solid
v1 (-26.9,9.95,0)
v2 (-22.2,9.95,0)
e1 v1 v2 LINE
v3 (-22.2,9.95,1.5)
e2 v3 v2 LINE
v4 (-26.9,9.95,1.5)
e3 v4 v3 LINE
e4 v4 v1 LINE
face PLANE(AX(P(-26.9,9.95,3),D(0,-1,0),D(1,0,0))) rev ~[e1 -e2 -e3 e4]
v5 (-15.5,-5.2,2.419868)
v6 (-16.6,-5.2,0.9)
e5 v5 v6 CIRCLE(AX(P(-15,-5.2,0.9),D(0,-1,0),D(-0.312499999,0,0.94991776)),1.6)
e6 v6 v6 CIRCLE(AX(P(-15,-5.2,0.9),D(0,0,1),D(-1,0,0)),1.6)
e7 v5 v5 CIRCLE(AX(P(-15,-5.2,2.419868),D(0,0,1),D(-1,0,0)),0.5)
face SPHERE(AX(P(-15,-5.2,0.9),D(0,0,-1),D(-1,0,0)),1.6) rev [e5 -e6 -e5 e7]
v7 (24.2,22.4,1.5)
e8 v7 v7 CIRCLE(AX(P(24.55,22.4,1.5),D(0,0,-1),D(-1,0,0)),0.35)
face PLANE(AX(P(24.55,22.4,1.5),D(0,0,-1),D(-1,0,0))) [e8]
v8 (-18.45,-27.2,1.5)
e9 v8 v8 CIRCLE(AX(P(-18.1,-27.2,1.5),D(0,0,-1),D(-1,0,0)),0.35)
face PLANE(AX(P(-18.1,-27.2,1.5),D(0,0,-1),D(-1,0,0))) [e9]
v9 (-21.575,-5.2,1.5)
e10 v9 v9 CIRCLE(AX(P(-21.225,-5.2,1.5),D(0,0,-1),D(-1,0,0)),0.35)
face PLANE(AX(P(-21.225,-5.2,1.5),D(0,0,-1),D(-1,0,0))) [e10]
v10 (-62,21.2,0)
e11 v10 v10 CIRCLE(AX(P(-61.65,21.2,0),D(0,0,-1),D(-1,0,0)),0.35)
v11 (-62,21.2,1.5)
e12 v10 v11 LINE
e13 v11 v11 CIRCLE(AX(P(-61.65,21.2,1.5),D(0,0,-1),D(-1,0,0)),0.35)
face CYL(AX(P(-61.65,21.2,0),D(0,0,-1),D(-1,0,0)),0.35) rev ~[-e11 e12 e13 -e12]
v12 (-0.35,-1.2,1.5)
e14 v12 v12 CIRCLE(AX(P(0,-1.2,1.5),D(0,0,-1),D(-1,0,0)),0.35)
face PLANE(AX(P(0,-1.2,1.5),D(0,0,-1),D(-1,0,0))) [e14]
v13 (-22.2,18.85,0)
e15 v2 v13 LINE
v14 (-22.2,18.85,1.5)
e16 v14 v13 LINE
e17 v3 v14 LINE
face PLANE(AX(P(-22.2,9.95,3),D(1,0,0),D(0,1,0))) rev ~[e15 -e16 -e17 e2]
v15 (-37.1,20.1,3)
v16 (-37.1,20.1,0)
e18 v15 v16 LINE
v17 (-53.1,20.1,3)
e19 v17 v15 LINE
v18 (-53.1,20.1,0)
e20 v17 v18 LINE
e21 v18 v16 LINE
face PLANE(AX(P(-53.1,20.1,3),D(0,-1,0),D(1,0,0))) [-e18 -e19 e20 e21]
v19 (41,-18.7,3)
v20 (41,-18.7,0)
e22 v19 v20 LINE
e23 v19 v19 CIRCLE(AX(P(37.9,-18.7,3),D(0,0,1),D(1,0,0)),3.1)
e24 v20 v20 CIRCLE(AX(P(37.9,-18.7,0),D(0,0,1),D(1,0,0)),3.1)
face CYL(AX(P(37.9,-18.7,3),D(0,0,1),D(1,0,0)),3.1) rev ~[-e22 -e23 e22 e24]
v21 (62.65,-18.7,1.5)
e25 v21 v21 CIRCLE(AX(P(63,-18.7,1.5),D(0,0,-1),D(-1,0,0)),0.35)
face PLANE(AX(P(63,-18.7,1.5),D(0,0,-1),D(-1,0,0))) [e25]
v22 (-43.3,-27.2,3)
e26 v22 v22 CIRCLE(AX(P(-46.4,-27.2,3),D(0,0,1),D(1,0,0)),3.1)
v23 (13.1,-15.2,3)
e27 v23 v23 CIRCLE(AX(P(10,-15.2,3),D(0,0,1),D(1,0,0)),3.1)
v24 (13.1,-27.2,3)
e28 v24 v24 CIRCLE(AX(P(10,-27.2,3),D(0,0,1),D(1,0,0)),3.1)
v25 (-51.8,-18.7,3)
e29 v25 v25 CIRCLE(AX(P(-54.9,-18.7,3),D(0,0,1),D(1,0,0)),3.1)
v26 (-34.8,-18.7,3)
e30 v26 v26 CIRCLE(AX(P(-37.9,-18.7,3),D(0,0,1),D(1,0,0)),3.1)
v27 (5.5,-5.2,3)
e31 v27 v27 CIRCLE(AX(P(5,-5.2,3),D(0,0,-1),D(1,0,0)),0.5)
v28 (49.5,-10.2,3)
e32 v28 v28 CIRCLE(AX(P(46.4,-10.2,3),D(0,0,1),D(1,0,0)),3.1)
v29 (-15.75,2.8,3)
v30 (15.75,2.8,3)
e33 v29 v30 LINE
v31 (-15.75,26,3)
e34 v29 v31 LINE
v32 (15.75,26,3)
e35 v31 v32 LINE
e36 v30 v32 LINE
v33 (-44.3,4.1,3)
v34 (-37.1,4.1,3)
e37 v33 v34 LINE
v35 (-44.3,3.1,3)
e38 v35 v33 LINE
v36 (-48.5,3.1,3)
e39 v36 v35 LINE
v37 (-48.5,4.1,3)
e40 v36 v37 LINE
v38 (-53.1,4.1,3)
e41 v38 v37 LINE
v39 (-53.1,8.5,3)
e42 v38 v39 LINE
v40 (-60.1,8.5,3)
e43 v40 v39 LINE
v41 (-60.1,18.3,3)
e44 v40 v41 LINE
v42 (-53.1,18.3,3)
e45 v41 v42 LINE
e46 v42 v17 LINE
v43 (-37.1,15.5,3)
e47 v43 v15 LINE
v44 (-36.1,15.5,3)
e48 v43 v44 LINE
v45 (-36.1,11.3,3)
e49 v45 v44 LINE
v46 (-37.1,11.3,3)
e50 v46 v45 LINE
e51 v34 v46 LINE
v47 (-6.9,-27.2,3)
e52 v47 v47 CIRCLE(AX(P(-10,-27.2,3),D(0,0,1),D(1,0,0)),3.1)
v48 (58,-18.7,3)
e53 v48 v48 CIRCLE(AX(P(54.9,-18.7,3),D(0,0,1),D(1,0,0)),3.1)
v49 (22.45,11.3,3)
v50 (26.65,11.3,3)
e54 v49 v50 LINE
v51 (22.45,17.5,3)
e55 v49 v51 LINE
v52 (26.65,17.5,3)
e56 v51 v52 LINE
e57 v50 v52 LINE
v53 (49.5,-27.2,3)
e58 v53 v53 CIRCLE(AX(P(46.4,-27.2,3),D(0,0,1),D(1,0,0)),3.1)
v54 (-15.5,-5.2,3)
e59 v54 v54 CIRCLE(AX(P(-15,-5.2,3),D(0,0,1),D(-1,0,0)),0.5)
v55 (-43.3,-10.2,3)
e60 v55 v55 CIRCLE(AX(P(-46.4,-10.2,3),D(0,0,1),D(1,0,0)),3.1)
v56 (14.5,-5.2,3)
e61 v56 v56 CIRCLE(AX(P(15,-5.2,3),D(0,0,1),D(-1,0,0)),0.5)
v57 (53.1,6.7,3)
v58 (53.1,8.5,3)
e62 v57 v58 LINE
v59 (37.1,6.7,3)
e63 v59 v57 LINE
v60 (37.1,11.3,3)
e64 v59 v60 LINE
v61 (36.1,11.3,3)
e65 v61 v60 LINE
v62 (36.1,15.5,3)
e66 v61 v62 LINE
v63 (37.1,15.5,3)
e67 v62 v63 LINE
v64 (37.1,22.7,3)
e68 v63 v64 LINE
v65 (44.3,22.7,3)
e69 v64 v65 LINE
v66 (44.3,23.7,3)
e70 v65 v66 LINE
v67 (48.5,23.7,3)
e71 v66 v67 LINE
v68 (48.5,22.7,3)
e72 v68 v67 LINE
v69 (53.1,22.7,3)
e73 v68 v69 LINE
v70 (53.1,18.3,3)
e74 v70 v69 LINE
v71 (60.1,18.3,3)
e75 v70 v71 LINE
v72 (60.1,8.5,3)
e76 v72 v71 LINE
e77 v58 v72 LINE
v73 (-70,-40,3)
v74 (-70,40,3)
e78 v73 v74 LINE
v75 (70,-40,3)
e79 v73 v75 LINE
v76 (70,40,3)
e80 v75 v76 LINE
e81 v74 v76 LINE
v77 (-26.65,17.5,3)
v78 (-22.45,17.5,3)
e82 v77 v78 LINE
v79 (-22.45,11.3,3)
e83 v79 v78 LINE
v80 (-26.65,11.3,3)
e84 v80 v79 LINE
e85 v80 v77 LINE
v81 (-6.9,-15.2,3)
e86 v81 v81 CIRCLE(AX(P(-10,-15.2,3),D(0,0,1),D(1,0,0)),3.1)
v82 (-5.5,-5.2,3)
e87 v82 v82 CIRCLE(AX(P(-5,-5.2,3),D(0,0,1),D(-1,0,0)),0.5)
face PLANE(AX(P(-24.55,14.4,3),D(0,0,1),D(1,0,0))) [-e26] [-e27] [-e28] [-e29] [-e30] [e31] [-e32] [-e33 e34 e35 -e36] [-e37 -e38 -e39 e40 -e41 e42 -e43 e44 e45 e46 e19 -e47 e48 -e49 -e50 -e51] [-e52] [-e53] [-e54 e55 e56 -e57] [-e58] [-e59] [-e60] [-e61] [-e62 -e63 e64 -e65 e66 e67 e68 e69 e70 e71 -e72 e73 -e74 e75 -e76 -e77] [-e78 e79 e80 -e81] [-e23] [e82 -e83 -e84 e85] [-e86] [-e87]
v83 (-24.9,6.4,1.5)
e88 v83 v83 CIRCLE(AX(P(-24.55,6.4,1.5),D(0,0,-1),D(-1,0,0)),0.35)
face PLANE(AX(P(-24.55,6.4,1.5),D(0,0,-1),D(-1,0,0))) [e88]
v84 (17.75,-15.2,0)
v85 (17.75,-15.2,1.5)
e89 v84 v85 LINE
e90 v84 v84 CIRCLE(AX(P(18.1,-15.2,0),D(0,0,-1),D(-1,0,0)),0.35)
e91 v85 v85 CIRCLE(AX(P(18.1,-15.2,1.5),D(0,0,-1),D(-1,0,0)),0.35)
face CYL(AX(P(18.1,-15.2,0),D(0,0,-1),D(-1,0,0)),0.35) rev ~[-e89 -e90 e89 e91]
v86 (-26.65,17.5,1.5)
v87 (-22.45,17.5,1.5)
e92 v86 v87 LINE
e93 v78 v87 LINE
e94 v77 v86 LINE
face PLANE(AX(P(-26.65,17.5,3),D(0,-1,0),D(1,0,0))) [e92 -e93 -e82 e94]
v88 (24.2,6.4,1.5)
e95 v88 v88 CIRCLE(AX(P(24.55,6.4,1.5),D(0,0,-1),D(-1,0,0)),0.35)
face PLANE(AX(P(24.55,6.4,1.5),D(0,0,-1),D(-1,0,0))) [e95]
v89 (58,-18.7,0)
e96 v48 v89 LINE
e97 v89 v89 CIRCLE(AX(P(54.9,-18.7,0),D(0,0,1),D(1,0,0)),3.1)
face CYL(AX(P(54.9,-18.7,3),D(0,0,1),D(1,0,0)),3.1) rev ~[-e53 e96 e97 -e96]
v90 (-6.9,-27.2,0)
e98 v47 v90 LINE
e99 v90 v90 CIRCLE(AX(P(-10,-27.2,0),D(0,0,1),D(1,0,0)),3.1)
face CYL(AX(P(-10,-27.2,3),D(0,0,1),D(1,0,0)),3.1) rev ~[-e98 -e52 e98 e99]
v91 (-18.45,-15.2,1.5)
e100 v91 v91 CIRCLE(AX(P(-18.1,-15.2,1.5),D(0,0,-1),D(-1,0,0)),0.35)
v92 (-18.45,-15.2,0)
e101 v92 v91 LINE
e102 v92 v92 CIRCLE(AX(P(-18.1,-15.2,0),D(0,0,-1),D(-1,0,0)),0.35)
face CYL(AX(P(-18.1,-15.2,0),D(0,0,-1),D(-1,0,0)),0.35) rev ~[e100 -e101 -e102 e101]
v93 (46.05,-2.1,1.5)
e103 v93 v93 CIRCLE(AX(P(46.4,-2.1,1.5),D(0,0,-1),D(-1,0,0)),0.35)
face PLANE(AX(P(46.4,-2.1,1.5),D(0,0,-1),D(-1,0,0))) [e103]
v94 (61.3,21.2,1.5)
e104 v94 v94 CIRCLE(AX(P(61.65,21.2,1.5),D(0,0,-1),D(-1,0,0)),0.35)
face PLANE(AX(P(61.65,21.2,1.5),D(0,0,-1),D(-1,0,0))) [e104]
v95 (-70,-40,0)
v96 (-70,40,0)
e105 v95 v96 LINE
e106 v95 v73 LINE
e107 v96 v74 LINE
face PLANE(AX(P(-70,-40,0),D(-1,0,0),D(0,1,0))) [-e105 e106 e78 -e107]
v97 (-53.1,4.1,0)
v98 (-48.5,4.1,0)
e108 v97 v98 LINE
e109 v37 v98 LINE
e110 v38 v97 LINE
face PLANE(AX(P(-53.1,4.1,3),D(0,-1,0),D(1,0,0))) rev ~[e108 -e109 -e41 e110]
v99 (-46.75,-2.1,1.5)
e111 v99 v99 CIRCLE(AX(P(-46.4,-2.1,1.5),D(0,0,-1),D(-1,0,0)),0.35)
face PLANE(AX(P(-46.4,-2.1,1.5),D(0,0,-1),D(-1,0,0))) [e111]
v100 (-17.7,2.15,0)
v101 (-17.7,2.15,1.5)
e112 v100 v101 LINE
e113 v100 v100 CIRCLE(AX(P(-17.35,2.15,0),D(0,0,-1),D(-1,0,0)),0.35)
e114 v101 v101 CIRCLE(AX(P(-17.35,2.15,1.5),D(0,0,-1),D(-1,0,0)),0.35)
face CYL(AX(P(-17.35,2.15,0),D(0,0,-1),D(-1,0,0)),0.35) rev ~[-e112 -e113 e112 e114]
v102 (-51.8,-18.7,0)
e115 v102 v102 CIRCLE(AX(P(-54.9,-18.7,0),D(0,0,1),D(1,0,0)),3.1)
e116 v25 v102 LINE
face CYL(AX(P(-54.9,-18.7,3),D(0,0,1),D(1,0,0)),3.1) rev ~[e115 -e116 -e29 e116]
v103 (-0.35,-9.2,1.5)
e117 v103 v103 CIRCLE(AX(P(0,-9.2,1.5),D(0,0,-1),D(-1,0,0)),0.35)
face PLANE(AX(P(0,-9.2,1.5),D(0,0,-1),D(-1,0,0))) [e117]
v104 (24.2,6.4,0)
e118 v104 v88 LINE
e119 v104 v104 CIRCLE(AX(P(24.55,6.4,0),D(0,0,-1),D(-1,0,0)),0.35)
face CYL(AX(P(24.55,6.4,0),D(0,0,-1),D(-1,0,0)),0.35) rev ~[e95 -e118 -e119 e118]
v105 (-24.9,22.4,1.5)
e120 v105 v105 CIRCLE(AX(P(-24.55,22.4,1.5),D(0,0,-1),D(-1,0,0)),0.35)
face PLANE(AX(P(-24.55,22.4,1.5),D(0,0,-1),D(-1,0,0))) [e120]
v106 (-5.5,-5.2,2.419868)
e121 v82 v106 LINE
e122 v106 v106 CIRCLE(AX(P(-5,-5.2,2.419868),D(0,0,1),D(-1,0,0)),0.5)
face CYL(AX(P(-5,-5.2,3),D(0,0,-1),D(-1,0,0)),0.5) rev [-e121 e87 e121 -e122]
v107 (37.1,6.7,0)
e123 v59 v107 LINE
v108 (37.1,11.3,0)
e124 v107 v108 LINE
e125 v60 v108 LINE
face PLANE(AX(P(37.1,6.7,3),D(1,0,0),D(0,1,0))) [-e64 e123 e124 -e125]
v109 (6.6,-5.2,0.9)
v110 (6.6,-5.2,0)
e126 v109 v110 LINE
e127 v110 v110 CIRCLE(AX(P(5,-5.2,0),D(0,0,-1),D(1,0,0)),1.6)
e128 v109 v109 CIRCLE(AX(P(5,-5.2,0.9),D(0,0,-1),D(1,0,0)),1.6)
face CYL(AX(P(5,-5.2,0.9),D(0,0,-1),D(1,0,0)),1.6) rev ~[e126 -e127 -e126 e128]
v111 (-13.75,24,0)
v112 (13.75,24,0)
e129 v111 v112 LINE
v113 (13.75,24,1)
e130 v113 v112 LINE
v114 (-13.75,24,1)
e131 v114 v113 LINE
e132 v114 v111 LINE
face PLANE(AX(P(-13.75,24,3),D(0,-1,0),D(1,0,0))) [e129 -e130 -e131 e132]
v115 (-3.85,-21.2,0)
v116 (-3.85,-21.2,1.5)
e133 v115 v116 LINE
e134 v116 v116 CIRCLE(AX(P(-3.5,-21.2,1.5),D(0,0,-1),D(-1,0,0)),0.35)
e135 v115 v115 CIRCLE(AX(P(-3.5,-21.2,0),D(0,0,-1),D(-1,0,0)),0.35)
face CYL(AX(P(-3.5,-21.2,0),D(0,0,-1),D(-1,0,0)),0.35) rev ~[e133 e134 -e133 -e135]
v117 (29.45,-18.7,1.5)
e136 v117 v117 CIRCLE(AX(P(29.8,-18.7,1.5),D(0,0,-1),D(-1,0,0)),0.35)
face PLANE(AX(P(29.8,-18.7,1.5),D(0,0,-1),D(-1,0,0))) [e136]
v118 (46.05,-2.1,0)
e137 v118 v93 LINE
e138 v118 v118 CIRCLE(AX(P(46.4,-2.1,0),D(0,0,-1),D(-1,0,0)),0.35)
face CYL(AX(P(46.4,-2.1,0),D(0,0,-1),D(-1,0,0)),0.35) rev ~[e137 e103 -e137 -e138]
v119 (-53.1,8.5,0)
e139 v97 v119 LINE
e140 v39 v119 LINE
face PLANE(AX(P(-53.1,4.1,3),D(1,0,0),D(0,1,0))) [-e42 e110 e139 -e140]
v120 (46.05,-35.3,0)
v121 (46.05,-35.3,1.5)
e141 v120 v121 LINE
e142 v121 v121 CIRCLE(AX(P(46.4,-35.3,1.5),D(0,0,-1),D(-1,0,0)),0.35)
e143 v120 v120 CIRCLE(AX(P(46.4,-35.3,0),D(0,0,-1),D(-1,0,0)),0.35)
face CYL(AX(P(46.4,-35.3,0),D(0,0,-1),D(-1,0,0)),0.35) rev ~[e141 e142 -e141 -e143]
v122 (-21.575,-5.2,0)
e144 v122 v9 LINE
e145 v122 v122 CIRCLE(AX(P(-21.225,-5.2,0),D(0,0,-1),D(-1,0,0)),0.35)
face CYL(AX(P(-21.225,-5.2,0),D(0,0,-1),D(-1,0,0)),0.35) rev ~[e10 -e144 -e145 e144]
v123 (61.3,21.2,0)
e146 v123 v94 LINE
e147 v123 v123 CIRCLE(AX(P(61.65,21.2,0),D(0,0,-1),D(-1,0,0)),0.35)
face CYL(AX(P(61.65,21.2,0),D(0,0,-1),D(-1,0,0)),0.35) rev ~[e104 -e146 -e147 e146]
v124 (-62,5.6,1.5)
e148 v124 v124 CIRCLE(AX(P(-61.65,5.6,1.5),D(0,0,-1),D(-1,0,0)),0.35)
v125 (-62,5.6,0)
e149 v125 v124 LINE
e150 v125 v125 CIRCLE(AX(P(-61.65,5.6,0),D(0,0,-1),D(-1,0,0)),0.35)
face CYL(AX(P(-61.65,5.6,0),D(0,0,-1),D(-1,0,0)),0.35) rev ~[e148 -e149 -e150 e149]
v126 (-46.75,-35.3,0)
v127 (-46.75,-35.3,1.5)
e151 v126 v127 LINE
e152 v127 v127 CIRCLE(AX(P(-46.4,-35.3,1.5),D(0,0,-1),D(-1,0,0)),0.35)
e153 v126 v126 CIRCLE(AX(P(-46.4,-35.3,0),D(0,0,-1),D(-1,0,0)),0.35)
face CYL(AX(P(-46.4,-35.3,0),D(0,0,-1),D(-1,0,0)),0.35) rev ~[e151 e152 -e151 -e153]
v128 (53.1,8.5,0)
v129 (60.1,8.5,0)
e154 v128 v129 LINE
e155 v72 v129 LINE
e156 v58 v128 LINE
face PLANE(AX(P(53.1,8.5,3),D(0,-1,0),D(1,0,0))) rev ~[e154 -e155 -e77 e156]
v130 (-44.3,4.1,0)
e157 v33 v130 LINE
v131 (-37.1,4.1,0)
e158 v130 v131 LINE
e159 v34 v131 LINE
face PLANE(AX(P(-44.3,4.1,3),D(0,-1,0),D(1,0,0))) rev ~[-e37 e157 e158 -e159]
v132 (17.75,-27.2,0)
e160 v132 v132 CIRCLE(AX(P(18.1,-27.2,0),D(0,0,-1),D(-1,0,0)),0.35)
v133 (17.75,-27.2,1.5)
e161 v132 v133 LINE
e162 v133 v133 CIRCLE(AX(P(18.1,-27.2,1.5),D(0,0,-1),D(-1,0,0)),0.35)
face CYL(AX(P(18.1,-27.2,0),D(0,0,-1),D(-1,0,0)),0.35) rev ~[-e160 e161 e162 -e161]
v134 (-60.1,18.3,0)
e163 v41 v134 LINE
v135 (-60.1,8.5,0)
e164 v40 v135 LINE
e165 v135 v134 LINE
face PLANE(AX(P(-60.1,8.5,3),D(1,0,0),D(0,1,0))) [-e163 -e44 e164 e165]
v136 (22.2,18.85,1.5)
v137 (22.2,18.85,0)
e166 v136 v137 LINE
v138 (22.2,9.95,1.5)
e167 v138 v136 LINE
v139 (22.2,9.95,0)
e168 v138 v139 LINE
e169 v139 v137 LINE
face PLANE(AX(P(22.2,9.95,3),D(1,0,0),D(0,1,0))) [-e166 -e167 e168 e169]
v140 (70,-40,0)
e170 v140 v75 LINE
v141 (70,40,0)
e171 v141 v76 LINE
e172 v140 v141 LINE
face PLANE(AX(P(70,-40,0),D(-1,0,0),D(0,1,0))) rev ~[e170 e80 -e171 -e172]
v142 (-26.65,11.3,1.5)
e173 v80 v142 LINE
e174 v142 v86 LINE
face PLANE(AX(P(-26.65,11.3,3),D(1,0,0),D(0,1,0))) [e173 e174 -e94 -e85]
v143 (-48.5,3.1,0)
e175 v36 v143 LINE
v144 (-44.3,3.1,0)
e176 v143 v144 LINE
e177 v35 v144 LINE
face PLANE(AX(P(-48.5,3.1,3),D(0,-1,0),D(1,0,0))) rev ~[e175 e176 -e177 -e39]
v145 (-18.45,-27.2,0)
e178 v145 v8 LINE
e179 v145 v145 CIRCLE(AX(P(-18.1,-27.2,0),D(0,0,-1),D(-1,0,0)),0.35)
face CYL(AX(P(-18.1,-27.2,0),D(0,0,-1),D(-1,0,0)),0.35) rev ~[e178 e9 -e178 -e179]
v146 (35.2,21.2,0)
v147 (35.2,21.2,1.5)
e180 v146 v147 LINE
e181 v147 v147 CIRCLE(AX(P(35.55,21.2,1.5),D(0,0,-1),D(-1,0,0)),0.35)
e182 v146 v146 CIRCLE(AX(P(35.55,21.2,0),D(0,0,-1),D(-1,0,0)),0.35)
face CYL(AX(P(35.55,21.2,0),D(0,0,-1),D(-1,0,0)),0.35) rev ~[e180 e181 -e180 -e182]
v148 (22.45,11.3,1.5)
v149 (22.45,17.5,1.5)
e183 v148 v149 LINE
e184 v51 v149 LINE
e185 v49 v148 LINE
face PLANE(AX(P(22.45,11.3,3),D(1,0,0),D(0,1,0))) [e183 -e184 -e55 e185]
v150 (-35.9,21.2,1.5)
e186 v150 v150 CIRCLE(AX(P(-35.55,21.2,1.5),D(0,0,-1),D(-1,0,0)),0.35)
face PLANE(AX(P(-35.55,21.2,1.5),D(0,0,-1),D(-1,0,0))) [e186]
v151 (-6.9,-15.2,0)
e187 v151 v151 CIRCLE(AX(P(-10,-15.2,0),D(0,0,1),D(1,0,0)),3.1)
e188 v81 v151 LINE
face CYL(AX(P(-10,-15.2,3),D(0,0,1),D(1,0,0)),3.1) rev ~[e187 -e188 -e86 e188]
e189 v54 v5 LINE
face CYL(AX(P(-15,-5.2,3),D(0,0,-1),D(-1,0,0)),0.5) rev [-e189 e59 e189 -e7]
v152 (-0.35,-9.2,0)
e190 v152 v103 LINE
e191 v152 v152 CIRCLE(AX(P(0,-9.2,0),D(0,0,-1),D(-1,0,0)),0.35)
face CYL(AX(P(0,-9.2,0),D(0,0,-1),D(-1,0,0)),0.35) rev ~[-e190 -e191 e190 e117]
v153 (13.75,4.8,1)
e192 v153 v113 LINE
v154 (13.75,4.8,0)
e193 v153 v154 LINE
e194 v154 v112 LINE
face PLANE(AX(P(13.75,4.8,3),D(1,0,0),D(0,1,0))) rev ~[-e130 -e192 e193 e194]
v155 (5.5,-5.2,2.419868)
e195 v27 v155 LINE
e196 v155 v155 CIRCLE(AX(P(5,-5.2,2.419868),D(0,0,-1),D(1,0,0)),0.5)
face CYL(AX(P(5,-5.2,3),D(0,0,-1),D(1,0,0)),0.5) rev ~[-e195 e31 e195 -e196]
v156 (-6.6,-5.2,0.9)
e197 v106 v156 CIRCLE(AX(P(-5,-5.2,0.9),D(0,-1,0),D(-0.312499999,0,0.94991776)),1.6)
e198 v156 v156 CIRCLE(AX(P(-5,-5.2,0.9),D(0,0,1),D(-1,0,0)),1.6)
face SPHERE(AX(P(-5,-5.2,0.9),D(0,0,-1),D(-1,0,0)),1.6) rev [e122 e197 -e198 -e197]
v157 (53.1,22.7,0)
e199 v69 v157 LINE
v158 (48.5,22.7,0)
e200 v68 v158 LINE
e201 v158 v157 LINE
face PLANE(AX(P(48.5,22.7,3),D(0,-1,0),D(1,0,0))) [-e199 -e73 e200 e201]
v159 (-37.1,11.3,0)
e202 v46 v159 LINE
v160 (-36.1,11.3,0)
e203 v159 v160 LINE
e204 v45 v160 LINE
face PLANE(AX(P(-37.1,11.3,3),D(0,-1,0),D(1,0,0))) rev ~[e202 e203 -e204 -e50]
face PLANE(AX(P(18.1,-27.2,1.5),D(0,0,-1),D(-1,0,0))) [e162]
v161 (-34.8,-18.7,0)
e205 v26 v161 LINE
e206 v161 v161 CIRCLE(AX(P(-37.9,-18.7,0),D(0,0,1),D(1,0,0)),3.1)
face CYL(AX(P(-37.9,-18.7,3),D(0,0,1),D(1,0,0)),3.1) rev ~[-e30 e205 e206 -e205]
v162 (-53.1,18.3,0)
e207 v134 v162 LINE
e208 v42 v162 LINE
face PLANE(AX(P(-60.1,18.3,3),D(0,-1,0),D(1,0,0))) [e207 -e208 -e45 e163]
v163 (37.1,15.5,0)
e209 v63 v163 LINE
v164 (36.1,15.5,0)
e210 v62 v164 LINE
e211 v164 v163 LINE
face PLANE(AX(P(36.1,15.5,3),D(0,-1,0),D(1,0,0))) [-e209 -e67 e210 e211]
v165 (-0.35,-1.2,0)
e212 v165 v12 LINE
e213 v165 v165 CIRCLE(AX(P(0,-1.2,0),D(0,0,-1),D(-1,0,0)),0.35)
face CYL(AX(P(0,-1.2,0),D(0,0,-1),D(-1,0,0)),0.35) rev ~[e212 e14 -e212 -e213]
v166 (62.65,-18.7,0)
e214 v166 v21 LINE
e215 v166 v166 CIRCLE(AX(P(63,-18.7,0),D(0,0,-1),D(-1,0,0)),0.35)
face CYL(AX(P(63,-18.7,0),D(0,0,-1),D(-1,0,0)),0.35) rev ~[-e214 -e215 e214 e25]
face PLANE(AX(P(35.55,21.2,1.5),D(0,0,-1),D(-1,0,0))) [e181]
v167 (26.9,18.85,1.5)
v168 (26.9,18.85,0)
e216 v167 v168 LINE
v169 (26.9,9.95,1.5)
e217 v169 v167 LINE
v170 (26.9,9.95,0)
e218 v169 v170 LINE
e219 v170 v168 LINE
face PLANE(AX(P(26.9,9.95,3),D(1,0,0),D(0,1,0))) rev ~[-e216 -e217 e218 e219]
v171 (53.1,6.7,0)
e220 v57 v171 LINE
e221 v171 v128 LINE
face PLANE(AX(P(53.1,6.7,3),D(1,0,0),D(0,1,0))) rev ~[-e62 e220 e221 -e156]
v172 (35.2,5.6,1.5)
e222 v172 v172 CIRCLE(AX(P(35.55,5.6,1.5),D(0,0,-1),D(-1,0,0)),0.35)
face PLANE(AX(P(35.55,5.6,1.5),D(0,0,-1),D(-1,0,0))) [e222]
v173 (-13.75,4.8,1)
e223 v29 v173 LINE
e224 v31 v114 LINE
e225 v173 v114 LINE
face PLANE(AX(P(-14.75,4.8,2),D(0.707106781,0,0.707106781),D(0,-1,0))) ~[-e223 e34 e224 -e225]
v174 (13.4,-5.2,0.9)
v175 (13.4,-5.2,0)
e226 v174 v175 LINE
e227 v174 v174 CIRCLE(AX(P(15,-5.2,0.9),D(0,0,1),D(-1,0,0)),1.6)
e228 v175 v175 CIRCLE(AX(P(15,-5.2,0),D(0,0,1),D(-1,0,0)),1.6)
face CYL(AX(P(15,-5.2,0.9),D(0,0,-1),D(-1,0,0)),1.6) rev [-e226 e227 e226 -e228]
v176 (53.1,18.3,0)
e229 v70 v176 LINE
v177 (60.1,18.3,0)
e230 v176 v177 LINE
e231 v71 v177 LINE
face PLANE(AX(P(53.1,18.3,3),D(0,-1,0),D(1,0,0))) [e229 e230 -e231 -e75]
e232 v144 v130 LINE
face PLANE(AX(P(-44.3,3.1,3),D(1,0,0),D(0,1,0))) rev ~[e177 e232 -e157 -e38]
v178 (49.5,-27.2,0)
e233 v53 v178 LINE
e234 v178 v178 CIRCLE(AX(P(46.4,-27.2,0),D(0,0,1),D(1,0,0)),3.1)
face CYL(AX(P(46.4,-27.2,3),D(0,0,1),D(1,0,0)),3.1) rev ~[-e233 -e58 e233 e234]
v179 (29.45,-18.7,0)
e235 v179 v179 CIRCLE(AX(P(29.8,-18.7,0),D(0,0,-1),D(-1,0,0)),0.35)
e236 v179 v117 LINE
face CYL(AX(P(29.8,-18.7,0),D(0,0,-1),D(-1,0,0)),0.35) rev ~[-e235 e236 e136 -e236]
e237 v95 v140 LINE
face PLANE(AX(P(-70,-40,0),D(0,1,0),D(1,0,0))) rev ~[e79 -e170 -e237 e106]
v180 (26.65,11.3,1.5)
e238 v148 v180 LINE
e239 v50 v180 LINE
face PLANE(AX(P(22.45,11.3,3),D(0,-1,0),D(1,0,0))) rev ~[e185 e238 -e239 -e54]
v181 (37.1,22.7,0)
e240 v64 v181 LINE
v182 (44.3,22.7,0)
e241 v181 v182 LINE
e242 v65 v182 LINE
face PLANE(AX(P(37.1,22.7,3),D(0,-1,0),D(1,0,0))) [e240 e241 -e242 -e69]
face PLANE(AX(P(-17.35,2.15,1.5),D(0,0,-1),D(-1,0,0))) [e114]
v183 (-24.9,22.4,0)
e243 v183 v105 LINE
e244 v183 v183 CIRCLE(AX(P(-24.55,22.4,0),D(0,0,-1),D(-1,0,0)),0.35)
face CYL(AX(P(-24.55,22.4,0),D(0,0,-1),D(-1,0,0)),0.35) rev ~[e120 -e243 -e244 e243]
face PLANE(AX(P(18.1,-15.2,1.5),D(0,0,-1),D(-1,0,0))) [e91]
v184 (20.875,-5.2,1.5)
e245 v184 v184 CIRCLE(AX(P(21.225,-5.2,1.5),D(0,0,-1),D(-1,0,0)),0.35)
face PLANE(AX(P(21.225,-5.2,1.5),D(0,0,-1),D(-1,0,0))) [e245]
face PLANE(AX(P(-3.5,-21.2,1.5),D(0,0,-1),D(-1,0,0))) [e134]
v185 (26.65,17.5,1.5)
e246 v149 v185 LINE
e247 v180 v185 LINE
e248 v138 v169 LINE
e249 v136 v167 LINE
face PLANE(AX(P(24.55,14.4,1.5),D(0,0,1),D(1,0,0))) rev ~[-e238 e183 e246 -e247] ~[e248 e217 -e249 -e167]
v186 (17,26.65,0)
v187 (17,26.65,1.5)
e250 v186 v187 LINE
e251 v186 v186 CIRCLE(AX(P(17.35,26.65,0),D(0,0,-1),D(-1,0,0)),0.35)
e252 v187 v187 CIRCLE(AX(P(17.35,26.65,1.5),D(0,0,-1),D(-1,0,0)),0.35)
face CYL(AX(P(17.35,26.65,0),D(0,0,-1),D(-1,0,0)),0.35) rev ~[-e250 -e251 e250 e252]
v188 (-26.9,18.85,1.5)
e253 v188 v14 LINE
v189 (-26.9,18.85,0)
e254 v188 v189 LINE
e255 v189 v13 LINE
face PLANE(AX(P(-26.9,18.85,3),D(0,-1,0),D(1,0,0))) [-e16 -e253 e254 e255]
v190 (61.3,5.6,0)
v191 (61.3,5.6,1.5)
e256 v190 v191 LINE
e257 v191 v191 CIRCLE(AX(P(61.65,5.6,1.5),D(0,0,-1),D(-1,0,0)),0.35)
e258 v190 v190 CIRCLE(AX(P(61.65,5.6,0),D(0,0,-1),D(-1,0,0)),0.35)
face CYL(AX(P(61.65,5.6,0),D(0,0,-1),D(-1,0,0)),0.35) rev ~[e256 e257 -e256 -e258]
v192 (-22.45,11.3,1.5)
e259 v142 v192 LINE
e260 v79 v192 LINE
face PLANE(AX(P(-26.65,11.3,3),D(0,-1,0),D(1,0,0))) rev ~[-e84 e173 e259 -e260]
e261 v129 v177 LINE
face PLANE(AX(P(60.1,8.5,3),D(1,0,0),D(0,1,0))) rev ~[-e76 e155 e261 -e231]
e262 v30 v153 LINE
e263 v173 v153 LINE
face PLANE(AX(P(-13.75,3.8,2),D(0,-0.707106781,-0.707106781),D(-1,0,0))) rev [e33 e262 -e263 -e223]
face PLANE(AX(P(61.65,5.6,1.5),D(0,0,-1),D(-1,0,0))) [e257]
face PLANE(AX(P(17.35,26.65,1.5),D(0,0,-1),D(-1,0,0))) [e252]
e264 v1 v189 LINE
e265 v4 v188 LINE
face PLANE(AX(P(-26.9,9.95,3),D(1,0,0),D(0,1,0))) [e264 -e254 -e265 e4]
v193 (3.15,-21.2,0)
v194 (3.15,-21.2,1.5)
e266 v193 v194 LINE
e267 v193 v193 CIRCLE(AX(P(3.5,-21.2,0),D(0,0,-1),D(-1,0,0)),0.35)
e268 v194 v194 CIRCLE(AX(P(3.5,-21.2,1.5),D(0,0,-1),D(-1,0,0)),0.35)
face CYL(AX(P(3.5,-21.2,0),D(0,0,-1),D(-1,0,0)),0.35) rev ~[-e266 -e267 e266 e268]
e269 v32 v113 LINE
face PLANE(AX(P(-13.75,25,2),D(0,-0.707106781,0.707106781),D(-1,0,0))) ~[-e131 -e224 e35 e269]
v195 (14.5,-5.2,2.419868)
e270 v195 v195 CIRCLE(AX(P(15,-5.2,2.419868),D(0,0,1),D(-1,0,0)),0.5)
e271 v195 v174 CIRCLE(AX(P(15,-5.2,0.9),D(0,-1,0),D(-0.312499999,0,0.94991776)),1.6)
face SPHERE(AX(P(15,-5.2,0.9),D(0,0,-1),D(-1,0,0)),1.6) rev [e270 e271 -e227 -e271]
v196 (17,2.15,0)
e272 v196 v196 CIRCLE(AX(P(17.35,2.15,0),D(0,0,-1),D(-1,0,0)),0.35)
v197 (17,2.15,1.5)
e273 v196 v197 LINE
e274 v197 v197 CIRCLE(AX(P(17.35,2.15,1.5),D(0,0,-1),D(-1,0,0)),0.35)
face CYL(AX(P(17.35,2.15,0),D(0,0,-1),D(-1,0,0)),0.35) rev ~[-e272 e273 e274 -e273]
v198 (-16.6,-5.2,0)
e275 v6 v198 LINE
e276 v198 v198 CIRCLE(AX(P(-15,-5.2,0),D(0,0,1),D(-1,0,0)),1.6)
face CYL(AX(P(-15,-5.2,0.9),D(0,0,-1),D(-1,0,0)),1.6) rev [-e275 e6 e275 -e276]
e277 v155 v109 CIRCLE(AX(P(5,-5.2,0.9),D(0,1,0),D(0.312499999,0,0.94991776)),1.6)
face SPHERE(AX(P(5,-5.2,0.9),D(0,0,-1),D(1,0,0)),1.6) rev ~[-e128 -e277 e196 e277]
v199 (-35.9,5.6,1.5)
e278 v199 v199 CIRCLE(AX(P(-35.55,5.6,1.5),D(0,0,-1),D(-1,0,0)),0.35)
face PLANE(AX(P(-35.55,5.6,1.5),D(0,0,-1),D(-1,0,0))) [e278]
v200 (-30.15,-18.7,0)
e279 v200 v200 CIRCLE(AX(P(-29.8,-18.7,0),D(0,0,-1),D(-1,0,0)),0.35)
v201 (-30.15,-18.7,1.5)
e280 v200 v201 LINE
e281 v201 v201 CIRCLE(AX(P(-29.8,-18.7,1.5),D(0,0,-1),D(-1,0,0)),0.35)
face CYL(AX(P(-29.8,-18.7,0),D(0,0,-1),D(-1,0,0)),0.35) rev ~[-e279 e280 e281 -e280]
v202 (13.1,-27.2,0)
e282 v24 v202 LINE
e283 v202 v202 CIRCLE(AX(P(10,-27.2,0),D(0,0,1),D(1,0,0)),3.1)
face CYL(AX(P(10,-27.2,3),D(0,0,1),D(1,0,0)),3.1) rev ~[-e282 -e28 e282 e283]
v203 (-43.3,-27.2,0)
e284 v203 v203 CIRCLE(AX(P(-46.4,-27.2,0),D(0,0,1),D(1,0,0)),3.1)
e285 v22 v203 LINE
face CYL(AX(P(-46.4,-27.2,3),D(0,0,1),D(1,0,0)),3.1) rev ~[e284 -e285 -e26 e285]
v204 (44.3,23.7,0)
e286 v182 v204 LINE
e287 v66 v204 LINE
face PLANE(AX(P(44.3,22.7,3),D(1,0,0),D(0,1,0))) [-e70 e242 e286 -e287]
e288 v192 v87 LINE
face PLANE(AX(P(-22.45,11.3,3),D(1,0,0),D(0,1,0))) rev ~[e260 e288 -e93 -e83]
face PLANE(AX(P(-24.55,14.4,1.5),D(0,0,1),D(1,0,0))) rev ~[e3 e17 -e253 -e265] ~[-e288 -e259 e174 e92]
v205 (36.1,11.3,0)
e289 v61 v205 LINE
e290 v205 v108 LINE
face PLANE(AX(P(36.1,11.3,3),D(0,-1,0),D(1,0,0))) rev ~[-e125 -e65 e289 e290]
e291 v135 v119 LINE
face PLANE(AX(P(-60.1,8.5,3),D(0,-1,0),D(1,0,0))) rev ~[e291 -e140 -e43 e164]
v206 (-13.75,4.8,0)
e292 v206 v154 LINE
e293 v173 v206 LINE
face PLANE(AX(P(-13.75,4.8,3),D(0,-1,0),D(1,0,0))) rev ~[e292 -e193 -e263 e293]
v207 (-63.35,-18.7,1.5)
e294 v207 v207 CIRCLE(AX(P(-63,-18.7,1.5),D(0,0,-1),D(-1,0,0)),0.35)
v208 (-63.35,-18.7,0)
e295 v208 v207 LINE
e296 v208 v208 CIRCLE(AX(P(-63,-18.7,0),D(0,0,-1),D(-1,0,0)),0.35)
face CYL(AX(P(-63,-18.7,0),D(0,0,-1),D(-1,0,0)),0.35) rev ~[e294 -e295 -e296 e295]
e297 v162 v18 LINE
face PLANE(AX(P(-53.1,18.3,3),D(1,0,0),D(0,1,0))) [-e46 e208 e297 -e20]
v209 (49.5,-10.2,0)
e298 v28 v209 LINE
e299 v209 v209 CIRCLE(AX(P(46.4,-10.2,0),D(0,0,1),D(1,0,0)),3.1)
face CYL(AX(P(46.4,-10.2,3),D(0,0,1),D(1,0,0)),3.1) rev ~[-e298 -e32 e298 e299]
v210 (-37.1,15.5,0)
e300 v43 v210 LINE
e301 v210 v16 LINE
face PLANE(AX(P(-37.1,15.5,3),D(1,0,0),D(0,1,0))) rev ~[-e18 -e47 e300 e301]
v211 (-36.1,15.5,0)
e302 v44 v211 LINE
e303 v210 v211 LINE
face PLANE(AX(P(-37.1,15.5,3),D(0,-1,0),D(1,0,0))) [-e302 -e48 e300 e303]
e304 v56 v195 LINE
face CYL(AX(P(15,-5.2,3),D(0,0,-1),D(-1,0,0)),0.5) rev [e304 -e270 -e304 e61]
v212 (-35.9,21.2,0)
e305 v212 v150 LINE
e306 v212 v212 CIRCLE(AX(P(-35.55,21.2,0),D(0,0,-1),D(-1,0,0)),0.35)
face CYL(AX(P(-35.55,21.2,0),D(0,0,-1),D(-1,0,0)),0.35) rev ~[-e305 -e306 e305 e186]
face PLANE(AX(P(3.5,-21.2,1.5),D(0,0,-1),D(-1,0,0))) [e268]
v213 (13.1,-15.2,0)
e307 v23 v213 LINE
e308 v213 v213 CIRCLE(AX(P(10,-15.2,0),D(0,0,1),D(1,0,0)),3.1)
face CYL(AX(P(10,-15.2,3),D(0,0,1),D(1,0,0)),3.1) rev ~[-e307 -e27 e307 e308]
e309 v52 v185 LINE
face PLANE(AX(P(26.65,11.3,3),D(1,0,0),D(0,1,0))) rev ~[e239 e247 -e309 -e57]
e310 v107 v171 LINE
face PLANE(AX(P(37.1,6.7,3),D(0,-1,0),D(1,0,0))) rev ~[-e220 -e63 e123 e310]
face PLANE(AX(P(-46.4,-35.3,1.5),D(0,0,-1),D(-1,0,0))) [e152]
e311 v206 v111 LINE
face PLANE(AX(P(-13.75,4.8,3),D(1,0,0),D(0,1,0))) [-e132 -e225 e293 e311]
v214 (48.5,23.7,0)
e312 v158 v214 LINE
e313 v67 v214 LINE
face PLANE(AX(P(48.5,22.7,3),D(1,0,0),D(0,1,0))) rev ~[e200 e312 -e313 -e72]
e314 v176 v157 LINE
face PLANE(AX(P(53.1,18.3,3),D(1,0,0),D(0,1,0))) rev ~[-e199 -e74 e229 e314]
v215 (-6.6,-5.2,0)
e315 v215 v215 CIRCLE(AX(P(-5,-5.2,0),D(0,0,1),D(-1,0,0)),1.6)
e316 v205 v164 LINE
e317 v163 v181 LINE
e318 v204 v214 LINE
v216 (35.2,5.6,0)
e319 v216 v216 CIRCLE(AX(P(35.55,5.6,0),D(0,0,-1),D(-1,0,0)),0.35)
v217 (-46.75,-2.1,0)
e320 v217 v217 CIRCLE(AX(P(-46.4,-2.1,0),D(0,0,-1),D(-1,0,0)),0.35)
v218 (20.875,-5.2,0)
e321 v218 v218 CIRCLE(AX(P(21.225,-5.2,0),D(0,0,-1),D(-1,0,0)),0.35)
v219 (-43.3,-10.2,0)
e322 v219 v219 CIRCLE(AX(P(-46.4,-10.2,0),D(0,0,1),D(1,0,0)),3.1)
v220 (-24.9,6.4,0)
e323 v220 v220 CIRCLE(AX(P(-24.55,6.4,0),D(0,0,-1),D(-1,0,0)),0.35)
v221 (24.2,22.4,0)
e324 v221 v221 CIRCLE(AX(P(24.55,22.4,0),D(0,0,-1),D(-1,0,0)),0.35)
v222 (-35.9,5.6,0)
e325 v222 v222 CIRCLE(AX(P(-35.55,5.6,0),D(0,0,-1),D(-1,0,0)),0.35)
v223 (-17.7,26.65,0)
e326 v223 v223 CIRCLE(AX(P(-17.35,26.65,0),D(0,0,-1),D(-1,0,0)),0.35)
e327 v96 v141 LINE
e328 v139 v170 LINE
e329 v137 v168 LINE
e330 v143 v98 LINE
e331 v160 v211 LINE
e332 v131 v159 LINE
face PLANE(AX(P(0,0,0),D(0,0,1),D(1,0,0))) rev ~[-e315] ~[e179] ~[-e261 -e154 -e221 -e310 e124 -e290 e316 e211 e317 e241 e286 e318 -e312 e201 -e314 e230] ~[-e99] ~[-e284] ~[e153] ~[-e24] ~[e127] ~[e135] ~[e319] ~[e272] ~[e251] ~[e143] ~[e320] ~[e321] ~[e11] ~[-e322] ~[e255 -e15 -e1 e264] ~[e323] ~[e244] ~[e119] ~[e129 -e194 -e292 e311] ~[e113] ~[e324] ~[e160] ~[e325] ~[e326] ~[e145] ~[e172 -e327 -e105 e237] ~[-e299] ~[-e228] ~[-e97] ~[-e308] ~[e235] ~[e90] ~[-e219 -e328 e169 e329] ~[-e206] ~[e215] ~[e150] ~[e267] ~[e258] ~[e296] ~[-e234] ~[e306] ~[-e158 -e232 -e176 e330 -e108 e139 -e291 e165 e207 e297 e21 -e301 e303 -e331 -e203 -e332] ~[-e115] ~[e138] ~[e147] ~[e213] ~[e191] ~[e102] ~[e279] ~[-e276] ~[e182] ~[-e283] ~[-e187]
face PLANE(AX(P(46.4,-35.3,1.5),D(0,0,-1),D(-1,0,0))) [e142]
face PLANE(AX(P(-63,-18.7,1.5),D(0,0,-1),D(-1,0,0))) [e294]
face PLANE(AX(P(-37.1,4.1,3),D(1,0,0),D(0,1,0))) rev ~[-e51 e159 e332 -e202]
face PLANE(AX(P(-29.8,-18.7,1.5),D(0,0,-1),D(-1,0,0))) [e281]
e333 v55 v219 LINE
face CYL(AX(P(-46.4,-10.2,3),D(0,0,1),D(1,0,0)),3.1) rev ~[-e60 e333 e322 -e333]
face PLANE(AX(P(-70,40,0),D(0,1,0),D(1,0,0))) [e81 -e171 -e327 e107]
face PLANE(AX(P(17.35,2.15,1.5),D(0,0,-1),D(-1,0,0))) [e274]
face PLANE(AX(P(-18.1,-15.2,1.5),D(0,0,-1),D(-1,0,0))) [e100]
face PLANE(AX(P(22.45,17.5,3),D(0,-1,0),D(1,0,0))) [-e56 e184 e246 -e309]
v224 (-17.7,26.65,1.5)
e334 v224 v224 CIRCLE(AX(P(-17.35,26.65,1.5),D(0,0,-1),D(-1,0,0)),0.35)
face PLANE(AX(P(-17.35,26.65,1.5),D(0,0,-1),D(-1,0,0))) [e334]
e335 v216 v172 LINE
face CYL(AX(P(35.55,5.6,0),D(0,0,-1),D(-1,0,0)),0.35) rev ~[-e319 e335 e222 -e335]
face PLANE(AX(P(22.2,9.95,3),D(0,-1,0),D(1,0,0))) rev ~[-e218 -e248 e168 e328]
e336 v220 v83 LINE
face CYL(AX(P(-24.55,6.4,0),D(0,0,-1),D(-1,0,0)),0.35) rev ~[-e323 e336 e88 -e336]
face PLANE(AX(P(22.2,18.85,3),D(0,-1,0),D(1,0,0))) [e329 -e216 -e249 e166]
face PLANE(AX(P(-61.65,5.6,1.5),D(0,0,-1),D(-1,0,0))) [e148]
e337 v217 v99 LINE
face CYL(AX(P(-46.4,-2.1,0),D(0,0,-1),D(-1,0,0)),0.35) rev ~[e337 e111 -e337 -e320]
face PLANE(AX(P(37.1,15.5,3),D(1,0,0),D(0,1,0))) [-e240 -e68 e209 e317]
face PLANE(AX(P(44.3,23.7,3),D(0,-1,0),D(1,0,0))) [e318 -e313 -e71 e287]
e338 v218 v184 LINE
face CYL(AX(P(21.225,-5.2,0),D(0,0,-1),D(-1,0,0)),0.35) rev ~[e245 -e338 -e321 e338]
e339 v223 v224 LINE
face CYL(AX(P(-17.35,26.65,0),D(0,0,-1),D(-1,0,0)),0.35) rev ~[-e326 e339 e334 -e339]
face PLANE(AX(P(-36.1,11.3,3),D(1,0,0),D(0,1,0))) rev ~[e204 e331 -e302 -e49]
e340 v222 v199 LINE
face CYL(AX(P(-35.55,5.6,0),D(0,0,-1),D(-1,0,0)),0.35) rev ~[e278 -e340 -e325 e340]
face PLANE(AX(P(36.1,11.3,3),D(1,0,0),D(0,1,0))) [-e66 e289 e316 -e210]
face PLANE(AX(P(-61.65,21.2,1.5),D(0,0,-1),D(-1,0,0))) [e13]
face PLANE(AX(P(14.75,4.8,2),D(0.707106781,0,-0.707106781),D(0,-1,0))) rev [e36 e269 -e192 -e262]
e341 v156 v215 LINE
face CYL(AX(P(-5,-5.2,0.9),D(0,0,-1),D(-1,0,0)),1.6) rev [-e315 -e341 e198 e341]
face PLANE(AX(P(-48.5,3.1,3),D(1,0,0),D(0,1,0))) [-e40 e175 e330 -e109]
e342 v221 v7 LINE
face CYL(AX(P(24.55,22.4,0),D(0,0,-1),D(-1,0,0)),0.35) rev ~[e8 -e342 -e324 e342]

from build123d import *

# Parameters (mm, degrees)
SKETCH_1_W          = 140
SKETCH_1_H          = 80
EXTRUDE_1_DEPTH     = 3
SKETCH_2_W          = 27.5
SKETCH_2_H          = 19.2
CUT_EXTRUDE_1_DEPTH = 81.678373806
CHAMFER_1_SIZE      = 2
SKETCH_5_W          = 4.7
SKETCH_5_H          = 8.9
CUT_EXTRUDE_3_DEPTH = 81.678373806
SKETCH_5_4_W        = 4.7
SKETCH_5_4_H        = 8.9
SKETCH_5_4_W_2      = 4.2
SKETCH_5_4_H_2      = 6.2
EXTRUDE_2_DEPTH     = 1.5
SKETCH_7_R          = 3.1
CUT_EXTRUDE_5_DEPTH = 81.678373806
SKETCH_8_W          = 7
SKETCH_8_H          = 9.8
SKETCH_8_W_2        = 16
SKETCH_8_H_2        = 16
SKETCH_8_W_3        = 1
SKETCH_8_H_3        = 4.2
SKETCH_8_W_4        = 4.2
SKETCH_8_H_4        = 1
CUT_EXTRUDE_6_DEPTH = 81.678373806
SKETCH_9_R          = 0.35
CUT_EXTRUDE_7_DEPTH = 1.5


with BuildPart() as part:
    # 草图1 → 凸台-拉伸1 (new body)
    with BuildSketch(Plane.XY):
        Rectangle(SKETCH_1_W, SKETCH_1_H)
    extrude(amount=EXTRUDE_1_DEPTH)

    # 草图2 → 切除-拉伸1 (cut, through all)
    with BuildSketch(Plane.XY.offset(3)):
        with Locations((0, 14.4)):
            Rectangle(SKETCH_2_W, SKETCH_2_H)
    extrude(amount=-CUT_EXTRUDE_1_DEPTH, mode=Mode.SUBTRACT)

    # 倒角1
    chamfer_1_edges = [part.edges().sort_by_distance(p)[0] for p in [
        (13.75, 14.4, 3),
        (0, 24, 3),
        (0, 4.8, 3),
        (-13.75, 14.4, 3),
    ]]
    chamfer(chamfer_1_edges, length=CHAMFER_1_SIZE)

    # 草图3 → 切除-旋转4 (revolve, cut)
    with BuildSketch(Plane(origin=(0, -5.2, 0), x_dir=(1, 0, 0), z_dir=(0, 1, 0))):
        with BuildLine():
            Line((-15, -3), (-14.5, -3))
            Line((-14.5, -3), (-14.5, -2.419868415))
            ThreePointArc((-14.5, -2.419868415), (-13.70385186, -1.838083152), (-13.4, -0.9))
            Line((-13.4, -0.9), (-13.4, 0))
            Line((-13.4, 0), (-15, 0))
            Line((-15, 0), (-15, -3))
        make_face()
    revolve(axis=Axis((-15, -5.2, -6.01222587), (0, 0, 1)), mode=Mode.SUBTRACT)

    # 草图3<6> → 切除-旋转5 (revolve, cut)
    with BuildSketch(Plane(origin=(0, -5.2, 0), x_dir=(1, 0, 0), z_dir=(0, 1, 0))):
        with BuildLine():
            Line((-4.5, -3), (-4.5, -2.419868415))
            ThreePointArc((-4.5, -2.419868415), (-3.70385186, -1.838083152), (-3.4, -0.9))
            Line((-3.4, -0.9), (-3.4, 0))
            Line((-3.4, 0), (-5, 0))
            Line((-5, 0), (-5, -3))
            Line((-5, -3), (-4.5, -3))
        make_face()
    revolve(axis=Axis((-5, -5.2, -6.420763597), (0, 0, 1)), mode=Mode.SUBTRACT)

    # 草图3<7> → 切除-旋转6 (revolve, cut)
    with BuildSketch(Plane(origin=(0, -5.2, 0), x_dir=(1, 0, 0), z_dir=(0, 1, 0))):
        with BuildLine():
            Line((5.5, -3), (5.5, -2.419868415))
            ThreePointArc((5.5, -2.419868415), (6.29614814, -1.838083152), (6.6, -0.9))
            Line((6.6, -0.9), (6.6, 0))
            Line((6.6, 0), (5, 0))
            Line((5, 0), (5, -3))
            Line((5, -3), (5.5, -3))
        make_face()
    revolve(axis=Axis((5, -5.2, 10.056924733), (0, 0, -1)), mode=Mode.SUBTRACT)

    # 草图3<8> → 切除-旋转7 (revolve, cut)
    with BuildSketch(Plane(origin=(0, -5.2, 0), x_dir=(1, 0, 0), z_dir=(0, 1, 0))):
        with BuildLine():
            Line((15.5, -3), (15.5, -2.419868415))
            ThreePointArc((15.5, -2.419868415), (16.29614814, -1.838083152), (16.6, -0.9))
            Line((16.6, -0.9), (16.6, 0))
            Line((16.6, 0), (15, 0))
            Line((15, 0), (15, -3))
            Line((15, -3), (15.5, -3))
        make_face()
    revolve(axis=Axis((15, -5.2, 4.282924855), (0, 0, 1)), mode=Mode.SUBTRACT)

    # 草图5 → 切除-拉伸3 (cut, through all)
    with BuildSketch(Plane.XY.offset(3)):
        with Locations((-24.55, 14.4)):
            Rectangle(SKETCH_5_W, SKETCH_5_H)
        with Locations((24.55, 14.4)):
            Rectangle(SKETCH_5_W, SKETCH_5_H)
    extrude(amount=-CUT_EXTRUDE_3_DEPTH, mode=Mode.SUBTRACT)

    # 草图5<4> → 凸台-拉伸2 (add)
    # profile 1 of 2: a face of its own
    with BuildSketch(Plane.XY.offset(3)):
        with Locations((-24.55, 14.4)):
            Rectangle(SKETCH_5_4_W, SKETCH_5_4_H)
        with Locations((-24.55, 14.4)):
            Rectangle(SKETCH_5_4_W_2, SKETCH_5_4_H_2, mode=Mode.SUBTRACT)
    # profile 2 of 2: a face of its own
    with BuildSketch(Plane.XY.offset(3)):
        with Locations((24.55, 14.4)):
            Rectangle(SKETCH_5_4_W, SKETCH_5_4_H)
        with Locations((24.55, 14.4)):
            Rectangle(SKETCH_5_4_W_2, SKETCH_5_4_H_2, mode=Mode.SUBTRACT)
    extrude(amount=-EXTRUDE_2_DEPTH)

    # 草图7 → 切除-拉伸5 (cut, through all)
    with BuildSketch(Plane.XY.offset(3)):
        with Locations((-46.4, -10.2)):
            Circle(SKETCH_7_R)
        with Locations((-46.4, -27.2)):
            Circle(SKETCH_7_R)
        with Locations((-54.9, -18.7)):
            Circle(SKETCH_7_R)
        with Locations((-37.9, -18.7)):
            Circle(SKETCH_7_R)
        with Locations((-10, -15.2)):
            Circle(SKETCH_7_R)
        with Locations((10, -15.2)):
            Circle(SKETCH_7_R)
        with Locations((-10, -27.2)):
            Circle(SKETCH_7_R)
        with Locations((10, -27.2)):
            Circle(SKETCH_7_R)
        with Locations((46.4, -10.2)):
            Circle(SKETCH_7_R)
        with Locations((37.9, -18.7)):
            Circle(SKETCH_7_R)
        with Locations((54.9, -18.7)):
            Circle(SKETCH_7_R)
        with Locations((46.4, -27.2)):
            Circle(SKETCH_7_R)
    extrude(amount=-CUT_EXTRUDE_5_DEPTH, mode=Mode.SUBTRACT)

    # 草图8 → 切除-拉伸6 (cut, through all)
    with BuildSketch(Plane.XY.offset(3)):
        with Locations((-56.6, 13.4)):
            Rectangle(SKETCH_8_W, SKETCH_8_H)
        with Locations((-45.1, 12.1)):
            Rectangle(SKETCH_8_W_2, SKETCH_8_H_2)
        with Locations((-36.6, 13.4)):
            Rectangle(SKETCH_8_W_3, SKETCH_8_H_3)
        with Locations((-46.4, 3.6)):
            Rectangle(SKETCH_8_W_4, SKETCH_8_H_4)
        with Locations((45.1, 14.7)):
            Rectangle(SKETCH_8_W_2, SKETCH_8_H_2)
        with Locations((56.6, 13.4)):
            Rectangle(SKETCH_8_W, SKETCH_8_H)
        with Locations((36.6, 13.4)):
            Rectangle(SKETCH_8_W_3, SKETCH_8_H_3)
        with Locations((46.4, 23.2)):
            Rectangle(SKETCH_8_W_4, SKETCH_8_H_4)
    extrude(amount=-CUT_EXTRUDE_6_DEPTH, mode=Mode.SUBTRACT)

    # 草图9 → 切除-拉伸7 (cut)
    with BuildSketch(Plane(origin=(0, 0, 0), x_dir=(-1, 0, 0), z_dir=(0, 0, -1))):
        with Locations((-61.65, 21.2)):
            Circle(SKETCH_9_R)
        with Locations((-61.65, 5.6)):
            Circle(SKETCH_9_R)
        with Locations((-35.55, 21.2)):
            Circle(SKETCH_9_R)
        with Locations((-35.55, 5.6)):
            Circle(SKETCH_9_R)
        with Locations((-24.55, 22.4)):
            Circle(SKETCH_9_R)
        with Locations((-24.55, 6.4)):
            Circle(SKETCH_9_R)
        with Locations((-17.35, 26.65)):
            Circle(SKETCH_9_R)
        with Locations((-17.35, 2.15)):
            Circle(SKETCH_9_R)
        with Locations((17.35, 26.65)):
            Circle(SKETCH_9_R)
        with Locations((17.35, 2.15)):
            Circle(SKETCH_9_R)
        with Locations((24.55, 22.4)):
            Circle(SKETCH_9_R)
        with Locations((24.55, 6.4)):
            Circle(SKETCH_9_R)
        with Locations((35.55, 21.2)):
            Circle(SKETCH_9_R)
        with Locations((35.55, 5.6)):
            Circle(SKETCH_9_R)
        with Locations((61.65, 21.2)):
            Circle(SKETCH_9_R)
        with Locations((61.65, 5.6)):
            Circle(SKETCH_9_R)
        with Locations((46.4, -2.1)):
            Circle(SKETCH_9_R)
        with Locations((29.8, -18.7)):
            Circle(SKETCH_9_R)
        with Locations((46.4, -35.3)):
            Circle(SKETCH_9_R)
        with Locations((63, -18.7)):
            Circle(SKETCH_9_R)
        with Locations((-21.225, -5.2)):
            Circle(SKETCH_9_R)
        with Locations((0, -1.2)):
            Circle(SKETCH_9_R)
        with Locations((0, -9.2)):
            Circle(SKETCH_9_R)
        with Locations((21.225, -5.2)):
            Circle(SKETCH_9_R)
        with Locations((-18.1, -15.2)):
            Circle(SKETCH_9_R)
        with Locations((-18.1, -27.2)):
            Circle(SKETCH_9_R)
        with Locations((-3.5, -21.2)):
            Circle(SKETCH_9_R)
        with Locations((3.5, -21.2)):
            Circle(SKETCH_9_R)
        with Locations((18.1, -15.2)):
            Circle(SKETCH_9_R)
        with Locations((18.1, -27.2)):
            Circle(SKETCH_9_R)
        with Locations((-46.4, -2.1)):
            Circle(SKETCH_9_R)
        with Locations((-29.8, -18.7)):
            Circle(SKETCH_9_R)
        with Locations((-46.4, -35.3)):
            Circle(SKETCH_9_R)
        with Locations((-63, -18.7)):
            Circle(SKETCH_9_R)
    extrude(amount=-CUT_EXTRUDE_7_DEPTH, mode=Mode.SUBTRACT)


solid = part.part
